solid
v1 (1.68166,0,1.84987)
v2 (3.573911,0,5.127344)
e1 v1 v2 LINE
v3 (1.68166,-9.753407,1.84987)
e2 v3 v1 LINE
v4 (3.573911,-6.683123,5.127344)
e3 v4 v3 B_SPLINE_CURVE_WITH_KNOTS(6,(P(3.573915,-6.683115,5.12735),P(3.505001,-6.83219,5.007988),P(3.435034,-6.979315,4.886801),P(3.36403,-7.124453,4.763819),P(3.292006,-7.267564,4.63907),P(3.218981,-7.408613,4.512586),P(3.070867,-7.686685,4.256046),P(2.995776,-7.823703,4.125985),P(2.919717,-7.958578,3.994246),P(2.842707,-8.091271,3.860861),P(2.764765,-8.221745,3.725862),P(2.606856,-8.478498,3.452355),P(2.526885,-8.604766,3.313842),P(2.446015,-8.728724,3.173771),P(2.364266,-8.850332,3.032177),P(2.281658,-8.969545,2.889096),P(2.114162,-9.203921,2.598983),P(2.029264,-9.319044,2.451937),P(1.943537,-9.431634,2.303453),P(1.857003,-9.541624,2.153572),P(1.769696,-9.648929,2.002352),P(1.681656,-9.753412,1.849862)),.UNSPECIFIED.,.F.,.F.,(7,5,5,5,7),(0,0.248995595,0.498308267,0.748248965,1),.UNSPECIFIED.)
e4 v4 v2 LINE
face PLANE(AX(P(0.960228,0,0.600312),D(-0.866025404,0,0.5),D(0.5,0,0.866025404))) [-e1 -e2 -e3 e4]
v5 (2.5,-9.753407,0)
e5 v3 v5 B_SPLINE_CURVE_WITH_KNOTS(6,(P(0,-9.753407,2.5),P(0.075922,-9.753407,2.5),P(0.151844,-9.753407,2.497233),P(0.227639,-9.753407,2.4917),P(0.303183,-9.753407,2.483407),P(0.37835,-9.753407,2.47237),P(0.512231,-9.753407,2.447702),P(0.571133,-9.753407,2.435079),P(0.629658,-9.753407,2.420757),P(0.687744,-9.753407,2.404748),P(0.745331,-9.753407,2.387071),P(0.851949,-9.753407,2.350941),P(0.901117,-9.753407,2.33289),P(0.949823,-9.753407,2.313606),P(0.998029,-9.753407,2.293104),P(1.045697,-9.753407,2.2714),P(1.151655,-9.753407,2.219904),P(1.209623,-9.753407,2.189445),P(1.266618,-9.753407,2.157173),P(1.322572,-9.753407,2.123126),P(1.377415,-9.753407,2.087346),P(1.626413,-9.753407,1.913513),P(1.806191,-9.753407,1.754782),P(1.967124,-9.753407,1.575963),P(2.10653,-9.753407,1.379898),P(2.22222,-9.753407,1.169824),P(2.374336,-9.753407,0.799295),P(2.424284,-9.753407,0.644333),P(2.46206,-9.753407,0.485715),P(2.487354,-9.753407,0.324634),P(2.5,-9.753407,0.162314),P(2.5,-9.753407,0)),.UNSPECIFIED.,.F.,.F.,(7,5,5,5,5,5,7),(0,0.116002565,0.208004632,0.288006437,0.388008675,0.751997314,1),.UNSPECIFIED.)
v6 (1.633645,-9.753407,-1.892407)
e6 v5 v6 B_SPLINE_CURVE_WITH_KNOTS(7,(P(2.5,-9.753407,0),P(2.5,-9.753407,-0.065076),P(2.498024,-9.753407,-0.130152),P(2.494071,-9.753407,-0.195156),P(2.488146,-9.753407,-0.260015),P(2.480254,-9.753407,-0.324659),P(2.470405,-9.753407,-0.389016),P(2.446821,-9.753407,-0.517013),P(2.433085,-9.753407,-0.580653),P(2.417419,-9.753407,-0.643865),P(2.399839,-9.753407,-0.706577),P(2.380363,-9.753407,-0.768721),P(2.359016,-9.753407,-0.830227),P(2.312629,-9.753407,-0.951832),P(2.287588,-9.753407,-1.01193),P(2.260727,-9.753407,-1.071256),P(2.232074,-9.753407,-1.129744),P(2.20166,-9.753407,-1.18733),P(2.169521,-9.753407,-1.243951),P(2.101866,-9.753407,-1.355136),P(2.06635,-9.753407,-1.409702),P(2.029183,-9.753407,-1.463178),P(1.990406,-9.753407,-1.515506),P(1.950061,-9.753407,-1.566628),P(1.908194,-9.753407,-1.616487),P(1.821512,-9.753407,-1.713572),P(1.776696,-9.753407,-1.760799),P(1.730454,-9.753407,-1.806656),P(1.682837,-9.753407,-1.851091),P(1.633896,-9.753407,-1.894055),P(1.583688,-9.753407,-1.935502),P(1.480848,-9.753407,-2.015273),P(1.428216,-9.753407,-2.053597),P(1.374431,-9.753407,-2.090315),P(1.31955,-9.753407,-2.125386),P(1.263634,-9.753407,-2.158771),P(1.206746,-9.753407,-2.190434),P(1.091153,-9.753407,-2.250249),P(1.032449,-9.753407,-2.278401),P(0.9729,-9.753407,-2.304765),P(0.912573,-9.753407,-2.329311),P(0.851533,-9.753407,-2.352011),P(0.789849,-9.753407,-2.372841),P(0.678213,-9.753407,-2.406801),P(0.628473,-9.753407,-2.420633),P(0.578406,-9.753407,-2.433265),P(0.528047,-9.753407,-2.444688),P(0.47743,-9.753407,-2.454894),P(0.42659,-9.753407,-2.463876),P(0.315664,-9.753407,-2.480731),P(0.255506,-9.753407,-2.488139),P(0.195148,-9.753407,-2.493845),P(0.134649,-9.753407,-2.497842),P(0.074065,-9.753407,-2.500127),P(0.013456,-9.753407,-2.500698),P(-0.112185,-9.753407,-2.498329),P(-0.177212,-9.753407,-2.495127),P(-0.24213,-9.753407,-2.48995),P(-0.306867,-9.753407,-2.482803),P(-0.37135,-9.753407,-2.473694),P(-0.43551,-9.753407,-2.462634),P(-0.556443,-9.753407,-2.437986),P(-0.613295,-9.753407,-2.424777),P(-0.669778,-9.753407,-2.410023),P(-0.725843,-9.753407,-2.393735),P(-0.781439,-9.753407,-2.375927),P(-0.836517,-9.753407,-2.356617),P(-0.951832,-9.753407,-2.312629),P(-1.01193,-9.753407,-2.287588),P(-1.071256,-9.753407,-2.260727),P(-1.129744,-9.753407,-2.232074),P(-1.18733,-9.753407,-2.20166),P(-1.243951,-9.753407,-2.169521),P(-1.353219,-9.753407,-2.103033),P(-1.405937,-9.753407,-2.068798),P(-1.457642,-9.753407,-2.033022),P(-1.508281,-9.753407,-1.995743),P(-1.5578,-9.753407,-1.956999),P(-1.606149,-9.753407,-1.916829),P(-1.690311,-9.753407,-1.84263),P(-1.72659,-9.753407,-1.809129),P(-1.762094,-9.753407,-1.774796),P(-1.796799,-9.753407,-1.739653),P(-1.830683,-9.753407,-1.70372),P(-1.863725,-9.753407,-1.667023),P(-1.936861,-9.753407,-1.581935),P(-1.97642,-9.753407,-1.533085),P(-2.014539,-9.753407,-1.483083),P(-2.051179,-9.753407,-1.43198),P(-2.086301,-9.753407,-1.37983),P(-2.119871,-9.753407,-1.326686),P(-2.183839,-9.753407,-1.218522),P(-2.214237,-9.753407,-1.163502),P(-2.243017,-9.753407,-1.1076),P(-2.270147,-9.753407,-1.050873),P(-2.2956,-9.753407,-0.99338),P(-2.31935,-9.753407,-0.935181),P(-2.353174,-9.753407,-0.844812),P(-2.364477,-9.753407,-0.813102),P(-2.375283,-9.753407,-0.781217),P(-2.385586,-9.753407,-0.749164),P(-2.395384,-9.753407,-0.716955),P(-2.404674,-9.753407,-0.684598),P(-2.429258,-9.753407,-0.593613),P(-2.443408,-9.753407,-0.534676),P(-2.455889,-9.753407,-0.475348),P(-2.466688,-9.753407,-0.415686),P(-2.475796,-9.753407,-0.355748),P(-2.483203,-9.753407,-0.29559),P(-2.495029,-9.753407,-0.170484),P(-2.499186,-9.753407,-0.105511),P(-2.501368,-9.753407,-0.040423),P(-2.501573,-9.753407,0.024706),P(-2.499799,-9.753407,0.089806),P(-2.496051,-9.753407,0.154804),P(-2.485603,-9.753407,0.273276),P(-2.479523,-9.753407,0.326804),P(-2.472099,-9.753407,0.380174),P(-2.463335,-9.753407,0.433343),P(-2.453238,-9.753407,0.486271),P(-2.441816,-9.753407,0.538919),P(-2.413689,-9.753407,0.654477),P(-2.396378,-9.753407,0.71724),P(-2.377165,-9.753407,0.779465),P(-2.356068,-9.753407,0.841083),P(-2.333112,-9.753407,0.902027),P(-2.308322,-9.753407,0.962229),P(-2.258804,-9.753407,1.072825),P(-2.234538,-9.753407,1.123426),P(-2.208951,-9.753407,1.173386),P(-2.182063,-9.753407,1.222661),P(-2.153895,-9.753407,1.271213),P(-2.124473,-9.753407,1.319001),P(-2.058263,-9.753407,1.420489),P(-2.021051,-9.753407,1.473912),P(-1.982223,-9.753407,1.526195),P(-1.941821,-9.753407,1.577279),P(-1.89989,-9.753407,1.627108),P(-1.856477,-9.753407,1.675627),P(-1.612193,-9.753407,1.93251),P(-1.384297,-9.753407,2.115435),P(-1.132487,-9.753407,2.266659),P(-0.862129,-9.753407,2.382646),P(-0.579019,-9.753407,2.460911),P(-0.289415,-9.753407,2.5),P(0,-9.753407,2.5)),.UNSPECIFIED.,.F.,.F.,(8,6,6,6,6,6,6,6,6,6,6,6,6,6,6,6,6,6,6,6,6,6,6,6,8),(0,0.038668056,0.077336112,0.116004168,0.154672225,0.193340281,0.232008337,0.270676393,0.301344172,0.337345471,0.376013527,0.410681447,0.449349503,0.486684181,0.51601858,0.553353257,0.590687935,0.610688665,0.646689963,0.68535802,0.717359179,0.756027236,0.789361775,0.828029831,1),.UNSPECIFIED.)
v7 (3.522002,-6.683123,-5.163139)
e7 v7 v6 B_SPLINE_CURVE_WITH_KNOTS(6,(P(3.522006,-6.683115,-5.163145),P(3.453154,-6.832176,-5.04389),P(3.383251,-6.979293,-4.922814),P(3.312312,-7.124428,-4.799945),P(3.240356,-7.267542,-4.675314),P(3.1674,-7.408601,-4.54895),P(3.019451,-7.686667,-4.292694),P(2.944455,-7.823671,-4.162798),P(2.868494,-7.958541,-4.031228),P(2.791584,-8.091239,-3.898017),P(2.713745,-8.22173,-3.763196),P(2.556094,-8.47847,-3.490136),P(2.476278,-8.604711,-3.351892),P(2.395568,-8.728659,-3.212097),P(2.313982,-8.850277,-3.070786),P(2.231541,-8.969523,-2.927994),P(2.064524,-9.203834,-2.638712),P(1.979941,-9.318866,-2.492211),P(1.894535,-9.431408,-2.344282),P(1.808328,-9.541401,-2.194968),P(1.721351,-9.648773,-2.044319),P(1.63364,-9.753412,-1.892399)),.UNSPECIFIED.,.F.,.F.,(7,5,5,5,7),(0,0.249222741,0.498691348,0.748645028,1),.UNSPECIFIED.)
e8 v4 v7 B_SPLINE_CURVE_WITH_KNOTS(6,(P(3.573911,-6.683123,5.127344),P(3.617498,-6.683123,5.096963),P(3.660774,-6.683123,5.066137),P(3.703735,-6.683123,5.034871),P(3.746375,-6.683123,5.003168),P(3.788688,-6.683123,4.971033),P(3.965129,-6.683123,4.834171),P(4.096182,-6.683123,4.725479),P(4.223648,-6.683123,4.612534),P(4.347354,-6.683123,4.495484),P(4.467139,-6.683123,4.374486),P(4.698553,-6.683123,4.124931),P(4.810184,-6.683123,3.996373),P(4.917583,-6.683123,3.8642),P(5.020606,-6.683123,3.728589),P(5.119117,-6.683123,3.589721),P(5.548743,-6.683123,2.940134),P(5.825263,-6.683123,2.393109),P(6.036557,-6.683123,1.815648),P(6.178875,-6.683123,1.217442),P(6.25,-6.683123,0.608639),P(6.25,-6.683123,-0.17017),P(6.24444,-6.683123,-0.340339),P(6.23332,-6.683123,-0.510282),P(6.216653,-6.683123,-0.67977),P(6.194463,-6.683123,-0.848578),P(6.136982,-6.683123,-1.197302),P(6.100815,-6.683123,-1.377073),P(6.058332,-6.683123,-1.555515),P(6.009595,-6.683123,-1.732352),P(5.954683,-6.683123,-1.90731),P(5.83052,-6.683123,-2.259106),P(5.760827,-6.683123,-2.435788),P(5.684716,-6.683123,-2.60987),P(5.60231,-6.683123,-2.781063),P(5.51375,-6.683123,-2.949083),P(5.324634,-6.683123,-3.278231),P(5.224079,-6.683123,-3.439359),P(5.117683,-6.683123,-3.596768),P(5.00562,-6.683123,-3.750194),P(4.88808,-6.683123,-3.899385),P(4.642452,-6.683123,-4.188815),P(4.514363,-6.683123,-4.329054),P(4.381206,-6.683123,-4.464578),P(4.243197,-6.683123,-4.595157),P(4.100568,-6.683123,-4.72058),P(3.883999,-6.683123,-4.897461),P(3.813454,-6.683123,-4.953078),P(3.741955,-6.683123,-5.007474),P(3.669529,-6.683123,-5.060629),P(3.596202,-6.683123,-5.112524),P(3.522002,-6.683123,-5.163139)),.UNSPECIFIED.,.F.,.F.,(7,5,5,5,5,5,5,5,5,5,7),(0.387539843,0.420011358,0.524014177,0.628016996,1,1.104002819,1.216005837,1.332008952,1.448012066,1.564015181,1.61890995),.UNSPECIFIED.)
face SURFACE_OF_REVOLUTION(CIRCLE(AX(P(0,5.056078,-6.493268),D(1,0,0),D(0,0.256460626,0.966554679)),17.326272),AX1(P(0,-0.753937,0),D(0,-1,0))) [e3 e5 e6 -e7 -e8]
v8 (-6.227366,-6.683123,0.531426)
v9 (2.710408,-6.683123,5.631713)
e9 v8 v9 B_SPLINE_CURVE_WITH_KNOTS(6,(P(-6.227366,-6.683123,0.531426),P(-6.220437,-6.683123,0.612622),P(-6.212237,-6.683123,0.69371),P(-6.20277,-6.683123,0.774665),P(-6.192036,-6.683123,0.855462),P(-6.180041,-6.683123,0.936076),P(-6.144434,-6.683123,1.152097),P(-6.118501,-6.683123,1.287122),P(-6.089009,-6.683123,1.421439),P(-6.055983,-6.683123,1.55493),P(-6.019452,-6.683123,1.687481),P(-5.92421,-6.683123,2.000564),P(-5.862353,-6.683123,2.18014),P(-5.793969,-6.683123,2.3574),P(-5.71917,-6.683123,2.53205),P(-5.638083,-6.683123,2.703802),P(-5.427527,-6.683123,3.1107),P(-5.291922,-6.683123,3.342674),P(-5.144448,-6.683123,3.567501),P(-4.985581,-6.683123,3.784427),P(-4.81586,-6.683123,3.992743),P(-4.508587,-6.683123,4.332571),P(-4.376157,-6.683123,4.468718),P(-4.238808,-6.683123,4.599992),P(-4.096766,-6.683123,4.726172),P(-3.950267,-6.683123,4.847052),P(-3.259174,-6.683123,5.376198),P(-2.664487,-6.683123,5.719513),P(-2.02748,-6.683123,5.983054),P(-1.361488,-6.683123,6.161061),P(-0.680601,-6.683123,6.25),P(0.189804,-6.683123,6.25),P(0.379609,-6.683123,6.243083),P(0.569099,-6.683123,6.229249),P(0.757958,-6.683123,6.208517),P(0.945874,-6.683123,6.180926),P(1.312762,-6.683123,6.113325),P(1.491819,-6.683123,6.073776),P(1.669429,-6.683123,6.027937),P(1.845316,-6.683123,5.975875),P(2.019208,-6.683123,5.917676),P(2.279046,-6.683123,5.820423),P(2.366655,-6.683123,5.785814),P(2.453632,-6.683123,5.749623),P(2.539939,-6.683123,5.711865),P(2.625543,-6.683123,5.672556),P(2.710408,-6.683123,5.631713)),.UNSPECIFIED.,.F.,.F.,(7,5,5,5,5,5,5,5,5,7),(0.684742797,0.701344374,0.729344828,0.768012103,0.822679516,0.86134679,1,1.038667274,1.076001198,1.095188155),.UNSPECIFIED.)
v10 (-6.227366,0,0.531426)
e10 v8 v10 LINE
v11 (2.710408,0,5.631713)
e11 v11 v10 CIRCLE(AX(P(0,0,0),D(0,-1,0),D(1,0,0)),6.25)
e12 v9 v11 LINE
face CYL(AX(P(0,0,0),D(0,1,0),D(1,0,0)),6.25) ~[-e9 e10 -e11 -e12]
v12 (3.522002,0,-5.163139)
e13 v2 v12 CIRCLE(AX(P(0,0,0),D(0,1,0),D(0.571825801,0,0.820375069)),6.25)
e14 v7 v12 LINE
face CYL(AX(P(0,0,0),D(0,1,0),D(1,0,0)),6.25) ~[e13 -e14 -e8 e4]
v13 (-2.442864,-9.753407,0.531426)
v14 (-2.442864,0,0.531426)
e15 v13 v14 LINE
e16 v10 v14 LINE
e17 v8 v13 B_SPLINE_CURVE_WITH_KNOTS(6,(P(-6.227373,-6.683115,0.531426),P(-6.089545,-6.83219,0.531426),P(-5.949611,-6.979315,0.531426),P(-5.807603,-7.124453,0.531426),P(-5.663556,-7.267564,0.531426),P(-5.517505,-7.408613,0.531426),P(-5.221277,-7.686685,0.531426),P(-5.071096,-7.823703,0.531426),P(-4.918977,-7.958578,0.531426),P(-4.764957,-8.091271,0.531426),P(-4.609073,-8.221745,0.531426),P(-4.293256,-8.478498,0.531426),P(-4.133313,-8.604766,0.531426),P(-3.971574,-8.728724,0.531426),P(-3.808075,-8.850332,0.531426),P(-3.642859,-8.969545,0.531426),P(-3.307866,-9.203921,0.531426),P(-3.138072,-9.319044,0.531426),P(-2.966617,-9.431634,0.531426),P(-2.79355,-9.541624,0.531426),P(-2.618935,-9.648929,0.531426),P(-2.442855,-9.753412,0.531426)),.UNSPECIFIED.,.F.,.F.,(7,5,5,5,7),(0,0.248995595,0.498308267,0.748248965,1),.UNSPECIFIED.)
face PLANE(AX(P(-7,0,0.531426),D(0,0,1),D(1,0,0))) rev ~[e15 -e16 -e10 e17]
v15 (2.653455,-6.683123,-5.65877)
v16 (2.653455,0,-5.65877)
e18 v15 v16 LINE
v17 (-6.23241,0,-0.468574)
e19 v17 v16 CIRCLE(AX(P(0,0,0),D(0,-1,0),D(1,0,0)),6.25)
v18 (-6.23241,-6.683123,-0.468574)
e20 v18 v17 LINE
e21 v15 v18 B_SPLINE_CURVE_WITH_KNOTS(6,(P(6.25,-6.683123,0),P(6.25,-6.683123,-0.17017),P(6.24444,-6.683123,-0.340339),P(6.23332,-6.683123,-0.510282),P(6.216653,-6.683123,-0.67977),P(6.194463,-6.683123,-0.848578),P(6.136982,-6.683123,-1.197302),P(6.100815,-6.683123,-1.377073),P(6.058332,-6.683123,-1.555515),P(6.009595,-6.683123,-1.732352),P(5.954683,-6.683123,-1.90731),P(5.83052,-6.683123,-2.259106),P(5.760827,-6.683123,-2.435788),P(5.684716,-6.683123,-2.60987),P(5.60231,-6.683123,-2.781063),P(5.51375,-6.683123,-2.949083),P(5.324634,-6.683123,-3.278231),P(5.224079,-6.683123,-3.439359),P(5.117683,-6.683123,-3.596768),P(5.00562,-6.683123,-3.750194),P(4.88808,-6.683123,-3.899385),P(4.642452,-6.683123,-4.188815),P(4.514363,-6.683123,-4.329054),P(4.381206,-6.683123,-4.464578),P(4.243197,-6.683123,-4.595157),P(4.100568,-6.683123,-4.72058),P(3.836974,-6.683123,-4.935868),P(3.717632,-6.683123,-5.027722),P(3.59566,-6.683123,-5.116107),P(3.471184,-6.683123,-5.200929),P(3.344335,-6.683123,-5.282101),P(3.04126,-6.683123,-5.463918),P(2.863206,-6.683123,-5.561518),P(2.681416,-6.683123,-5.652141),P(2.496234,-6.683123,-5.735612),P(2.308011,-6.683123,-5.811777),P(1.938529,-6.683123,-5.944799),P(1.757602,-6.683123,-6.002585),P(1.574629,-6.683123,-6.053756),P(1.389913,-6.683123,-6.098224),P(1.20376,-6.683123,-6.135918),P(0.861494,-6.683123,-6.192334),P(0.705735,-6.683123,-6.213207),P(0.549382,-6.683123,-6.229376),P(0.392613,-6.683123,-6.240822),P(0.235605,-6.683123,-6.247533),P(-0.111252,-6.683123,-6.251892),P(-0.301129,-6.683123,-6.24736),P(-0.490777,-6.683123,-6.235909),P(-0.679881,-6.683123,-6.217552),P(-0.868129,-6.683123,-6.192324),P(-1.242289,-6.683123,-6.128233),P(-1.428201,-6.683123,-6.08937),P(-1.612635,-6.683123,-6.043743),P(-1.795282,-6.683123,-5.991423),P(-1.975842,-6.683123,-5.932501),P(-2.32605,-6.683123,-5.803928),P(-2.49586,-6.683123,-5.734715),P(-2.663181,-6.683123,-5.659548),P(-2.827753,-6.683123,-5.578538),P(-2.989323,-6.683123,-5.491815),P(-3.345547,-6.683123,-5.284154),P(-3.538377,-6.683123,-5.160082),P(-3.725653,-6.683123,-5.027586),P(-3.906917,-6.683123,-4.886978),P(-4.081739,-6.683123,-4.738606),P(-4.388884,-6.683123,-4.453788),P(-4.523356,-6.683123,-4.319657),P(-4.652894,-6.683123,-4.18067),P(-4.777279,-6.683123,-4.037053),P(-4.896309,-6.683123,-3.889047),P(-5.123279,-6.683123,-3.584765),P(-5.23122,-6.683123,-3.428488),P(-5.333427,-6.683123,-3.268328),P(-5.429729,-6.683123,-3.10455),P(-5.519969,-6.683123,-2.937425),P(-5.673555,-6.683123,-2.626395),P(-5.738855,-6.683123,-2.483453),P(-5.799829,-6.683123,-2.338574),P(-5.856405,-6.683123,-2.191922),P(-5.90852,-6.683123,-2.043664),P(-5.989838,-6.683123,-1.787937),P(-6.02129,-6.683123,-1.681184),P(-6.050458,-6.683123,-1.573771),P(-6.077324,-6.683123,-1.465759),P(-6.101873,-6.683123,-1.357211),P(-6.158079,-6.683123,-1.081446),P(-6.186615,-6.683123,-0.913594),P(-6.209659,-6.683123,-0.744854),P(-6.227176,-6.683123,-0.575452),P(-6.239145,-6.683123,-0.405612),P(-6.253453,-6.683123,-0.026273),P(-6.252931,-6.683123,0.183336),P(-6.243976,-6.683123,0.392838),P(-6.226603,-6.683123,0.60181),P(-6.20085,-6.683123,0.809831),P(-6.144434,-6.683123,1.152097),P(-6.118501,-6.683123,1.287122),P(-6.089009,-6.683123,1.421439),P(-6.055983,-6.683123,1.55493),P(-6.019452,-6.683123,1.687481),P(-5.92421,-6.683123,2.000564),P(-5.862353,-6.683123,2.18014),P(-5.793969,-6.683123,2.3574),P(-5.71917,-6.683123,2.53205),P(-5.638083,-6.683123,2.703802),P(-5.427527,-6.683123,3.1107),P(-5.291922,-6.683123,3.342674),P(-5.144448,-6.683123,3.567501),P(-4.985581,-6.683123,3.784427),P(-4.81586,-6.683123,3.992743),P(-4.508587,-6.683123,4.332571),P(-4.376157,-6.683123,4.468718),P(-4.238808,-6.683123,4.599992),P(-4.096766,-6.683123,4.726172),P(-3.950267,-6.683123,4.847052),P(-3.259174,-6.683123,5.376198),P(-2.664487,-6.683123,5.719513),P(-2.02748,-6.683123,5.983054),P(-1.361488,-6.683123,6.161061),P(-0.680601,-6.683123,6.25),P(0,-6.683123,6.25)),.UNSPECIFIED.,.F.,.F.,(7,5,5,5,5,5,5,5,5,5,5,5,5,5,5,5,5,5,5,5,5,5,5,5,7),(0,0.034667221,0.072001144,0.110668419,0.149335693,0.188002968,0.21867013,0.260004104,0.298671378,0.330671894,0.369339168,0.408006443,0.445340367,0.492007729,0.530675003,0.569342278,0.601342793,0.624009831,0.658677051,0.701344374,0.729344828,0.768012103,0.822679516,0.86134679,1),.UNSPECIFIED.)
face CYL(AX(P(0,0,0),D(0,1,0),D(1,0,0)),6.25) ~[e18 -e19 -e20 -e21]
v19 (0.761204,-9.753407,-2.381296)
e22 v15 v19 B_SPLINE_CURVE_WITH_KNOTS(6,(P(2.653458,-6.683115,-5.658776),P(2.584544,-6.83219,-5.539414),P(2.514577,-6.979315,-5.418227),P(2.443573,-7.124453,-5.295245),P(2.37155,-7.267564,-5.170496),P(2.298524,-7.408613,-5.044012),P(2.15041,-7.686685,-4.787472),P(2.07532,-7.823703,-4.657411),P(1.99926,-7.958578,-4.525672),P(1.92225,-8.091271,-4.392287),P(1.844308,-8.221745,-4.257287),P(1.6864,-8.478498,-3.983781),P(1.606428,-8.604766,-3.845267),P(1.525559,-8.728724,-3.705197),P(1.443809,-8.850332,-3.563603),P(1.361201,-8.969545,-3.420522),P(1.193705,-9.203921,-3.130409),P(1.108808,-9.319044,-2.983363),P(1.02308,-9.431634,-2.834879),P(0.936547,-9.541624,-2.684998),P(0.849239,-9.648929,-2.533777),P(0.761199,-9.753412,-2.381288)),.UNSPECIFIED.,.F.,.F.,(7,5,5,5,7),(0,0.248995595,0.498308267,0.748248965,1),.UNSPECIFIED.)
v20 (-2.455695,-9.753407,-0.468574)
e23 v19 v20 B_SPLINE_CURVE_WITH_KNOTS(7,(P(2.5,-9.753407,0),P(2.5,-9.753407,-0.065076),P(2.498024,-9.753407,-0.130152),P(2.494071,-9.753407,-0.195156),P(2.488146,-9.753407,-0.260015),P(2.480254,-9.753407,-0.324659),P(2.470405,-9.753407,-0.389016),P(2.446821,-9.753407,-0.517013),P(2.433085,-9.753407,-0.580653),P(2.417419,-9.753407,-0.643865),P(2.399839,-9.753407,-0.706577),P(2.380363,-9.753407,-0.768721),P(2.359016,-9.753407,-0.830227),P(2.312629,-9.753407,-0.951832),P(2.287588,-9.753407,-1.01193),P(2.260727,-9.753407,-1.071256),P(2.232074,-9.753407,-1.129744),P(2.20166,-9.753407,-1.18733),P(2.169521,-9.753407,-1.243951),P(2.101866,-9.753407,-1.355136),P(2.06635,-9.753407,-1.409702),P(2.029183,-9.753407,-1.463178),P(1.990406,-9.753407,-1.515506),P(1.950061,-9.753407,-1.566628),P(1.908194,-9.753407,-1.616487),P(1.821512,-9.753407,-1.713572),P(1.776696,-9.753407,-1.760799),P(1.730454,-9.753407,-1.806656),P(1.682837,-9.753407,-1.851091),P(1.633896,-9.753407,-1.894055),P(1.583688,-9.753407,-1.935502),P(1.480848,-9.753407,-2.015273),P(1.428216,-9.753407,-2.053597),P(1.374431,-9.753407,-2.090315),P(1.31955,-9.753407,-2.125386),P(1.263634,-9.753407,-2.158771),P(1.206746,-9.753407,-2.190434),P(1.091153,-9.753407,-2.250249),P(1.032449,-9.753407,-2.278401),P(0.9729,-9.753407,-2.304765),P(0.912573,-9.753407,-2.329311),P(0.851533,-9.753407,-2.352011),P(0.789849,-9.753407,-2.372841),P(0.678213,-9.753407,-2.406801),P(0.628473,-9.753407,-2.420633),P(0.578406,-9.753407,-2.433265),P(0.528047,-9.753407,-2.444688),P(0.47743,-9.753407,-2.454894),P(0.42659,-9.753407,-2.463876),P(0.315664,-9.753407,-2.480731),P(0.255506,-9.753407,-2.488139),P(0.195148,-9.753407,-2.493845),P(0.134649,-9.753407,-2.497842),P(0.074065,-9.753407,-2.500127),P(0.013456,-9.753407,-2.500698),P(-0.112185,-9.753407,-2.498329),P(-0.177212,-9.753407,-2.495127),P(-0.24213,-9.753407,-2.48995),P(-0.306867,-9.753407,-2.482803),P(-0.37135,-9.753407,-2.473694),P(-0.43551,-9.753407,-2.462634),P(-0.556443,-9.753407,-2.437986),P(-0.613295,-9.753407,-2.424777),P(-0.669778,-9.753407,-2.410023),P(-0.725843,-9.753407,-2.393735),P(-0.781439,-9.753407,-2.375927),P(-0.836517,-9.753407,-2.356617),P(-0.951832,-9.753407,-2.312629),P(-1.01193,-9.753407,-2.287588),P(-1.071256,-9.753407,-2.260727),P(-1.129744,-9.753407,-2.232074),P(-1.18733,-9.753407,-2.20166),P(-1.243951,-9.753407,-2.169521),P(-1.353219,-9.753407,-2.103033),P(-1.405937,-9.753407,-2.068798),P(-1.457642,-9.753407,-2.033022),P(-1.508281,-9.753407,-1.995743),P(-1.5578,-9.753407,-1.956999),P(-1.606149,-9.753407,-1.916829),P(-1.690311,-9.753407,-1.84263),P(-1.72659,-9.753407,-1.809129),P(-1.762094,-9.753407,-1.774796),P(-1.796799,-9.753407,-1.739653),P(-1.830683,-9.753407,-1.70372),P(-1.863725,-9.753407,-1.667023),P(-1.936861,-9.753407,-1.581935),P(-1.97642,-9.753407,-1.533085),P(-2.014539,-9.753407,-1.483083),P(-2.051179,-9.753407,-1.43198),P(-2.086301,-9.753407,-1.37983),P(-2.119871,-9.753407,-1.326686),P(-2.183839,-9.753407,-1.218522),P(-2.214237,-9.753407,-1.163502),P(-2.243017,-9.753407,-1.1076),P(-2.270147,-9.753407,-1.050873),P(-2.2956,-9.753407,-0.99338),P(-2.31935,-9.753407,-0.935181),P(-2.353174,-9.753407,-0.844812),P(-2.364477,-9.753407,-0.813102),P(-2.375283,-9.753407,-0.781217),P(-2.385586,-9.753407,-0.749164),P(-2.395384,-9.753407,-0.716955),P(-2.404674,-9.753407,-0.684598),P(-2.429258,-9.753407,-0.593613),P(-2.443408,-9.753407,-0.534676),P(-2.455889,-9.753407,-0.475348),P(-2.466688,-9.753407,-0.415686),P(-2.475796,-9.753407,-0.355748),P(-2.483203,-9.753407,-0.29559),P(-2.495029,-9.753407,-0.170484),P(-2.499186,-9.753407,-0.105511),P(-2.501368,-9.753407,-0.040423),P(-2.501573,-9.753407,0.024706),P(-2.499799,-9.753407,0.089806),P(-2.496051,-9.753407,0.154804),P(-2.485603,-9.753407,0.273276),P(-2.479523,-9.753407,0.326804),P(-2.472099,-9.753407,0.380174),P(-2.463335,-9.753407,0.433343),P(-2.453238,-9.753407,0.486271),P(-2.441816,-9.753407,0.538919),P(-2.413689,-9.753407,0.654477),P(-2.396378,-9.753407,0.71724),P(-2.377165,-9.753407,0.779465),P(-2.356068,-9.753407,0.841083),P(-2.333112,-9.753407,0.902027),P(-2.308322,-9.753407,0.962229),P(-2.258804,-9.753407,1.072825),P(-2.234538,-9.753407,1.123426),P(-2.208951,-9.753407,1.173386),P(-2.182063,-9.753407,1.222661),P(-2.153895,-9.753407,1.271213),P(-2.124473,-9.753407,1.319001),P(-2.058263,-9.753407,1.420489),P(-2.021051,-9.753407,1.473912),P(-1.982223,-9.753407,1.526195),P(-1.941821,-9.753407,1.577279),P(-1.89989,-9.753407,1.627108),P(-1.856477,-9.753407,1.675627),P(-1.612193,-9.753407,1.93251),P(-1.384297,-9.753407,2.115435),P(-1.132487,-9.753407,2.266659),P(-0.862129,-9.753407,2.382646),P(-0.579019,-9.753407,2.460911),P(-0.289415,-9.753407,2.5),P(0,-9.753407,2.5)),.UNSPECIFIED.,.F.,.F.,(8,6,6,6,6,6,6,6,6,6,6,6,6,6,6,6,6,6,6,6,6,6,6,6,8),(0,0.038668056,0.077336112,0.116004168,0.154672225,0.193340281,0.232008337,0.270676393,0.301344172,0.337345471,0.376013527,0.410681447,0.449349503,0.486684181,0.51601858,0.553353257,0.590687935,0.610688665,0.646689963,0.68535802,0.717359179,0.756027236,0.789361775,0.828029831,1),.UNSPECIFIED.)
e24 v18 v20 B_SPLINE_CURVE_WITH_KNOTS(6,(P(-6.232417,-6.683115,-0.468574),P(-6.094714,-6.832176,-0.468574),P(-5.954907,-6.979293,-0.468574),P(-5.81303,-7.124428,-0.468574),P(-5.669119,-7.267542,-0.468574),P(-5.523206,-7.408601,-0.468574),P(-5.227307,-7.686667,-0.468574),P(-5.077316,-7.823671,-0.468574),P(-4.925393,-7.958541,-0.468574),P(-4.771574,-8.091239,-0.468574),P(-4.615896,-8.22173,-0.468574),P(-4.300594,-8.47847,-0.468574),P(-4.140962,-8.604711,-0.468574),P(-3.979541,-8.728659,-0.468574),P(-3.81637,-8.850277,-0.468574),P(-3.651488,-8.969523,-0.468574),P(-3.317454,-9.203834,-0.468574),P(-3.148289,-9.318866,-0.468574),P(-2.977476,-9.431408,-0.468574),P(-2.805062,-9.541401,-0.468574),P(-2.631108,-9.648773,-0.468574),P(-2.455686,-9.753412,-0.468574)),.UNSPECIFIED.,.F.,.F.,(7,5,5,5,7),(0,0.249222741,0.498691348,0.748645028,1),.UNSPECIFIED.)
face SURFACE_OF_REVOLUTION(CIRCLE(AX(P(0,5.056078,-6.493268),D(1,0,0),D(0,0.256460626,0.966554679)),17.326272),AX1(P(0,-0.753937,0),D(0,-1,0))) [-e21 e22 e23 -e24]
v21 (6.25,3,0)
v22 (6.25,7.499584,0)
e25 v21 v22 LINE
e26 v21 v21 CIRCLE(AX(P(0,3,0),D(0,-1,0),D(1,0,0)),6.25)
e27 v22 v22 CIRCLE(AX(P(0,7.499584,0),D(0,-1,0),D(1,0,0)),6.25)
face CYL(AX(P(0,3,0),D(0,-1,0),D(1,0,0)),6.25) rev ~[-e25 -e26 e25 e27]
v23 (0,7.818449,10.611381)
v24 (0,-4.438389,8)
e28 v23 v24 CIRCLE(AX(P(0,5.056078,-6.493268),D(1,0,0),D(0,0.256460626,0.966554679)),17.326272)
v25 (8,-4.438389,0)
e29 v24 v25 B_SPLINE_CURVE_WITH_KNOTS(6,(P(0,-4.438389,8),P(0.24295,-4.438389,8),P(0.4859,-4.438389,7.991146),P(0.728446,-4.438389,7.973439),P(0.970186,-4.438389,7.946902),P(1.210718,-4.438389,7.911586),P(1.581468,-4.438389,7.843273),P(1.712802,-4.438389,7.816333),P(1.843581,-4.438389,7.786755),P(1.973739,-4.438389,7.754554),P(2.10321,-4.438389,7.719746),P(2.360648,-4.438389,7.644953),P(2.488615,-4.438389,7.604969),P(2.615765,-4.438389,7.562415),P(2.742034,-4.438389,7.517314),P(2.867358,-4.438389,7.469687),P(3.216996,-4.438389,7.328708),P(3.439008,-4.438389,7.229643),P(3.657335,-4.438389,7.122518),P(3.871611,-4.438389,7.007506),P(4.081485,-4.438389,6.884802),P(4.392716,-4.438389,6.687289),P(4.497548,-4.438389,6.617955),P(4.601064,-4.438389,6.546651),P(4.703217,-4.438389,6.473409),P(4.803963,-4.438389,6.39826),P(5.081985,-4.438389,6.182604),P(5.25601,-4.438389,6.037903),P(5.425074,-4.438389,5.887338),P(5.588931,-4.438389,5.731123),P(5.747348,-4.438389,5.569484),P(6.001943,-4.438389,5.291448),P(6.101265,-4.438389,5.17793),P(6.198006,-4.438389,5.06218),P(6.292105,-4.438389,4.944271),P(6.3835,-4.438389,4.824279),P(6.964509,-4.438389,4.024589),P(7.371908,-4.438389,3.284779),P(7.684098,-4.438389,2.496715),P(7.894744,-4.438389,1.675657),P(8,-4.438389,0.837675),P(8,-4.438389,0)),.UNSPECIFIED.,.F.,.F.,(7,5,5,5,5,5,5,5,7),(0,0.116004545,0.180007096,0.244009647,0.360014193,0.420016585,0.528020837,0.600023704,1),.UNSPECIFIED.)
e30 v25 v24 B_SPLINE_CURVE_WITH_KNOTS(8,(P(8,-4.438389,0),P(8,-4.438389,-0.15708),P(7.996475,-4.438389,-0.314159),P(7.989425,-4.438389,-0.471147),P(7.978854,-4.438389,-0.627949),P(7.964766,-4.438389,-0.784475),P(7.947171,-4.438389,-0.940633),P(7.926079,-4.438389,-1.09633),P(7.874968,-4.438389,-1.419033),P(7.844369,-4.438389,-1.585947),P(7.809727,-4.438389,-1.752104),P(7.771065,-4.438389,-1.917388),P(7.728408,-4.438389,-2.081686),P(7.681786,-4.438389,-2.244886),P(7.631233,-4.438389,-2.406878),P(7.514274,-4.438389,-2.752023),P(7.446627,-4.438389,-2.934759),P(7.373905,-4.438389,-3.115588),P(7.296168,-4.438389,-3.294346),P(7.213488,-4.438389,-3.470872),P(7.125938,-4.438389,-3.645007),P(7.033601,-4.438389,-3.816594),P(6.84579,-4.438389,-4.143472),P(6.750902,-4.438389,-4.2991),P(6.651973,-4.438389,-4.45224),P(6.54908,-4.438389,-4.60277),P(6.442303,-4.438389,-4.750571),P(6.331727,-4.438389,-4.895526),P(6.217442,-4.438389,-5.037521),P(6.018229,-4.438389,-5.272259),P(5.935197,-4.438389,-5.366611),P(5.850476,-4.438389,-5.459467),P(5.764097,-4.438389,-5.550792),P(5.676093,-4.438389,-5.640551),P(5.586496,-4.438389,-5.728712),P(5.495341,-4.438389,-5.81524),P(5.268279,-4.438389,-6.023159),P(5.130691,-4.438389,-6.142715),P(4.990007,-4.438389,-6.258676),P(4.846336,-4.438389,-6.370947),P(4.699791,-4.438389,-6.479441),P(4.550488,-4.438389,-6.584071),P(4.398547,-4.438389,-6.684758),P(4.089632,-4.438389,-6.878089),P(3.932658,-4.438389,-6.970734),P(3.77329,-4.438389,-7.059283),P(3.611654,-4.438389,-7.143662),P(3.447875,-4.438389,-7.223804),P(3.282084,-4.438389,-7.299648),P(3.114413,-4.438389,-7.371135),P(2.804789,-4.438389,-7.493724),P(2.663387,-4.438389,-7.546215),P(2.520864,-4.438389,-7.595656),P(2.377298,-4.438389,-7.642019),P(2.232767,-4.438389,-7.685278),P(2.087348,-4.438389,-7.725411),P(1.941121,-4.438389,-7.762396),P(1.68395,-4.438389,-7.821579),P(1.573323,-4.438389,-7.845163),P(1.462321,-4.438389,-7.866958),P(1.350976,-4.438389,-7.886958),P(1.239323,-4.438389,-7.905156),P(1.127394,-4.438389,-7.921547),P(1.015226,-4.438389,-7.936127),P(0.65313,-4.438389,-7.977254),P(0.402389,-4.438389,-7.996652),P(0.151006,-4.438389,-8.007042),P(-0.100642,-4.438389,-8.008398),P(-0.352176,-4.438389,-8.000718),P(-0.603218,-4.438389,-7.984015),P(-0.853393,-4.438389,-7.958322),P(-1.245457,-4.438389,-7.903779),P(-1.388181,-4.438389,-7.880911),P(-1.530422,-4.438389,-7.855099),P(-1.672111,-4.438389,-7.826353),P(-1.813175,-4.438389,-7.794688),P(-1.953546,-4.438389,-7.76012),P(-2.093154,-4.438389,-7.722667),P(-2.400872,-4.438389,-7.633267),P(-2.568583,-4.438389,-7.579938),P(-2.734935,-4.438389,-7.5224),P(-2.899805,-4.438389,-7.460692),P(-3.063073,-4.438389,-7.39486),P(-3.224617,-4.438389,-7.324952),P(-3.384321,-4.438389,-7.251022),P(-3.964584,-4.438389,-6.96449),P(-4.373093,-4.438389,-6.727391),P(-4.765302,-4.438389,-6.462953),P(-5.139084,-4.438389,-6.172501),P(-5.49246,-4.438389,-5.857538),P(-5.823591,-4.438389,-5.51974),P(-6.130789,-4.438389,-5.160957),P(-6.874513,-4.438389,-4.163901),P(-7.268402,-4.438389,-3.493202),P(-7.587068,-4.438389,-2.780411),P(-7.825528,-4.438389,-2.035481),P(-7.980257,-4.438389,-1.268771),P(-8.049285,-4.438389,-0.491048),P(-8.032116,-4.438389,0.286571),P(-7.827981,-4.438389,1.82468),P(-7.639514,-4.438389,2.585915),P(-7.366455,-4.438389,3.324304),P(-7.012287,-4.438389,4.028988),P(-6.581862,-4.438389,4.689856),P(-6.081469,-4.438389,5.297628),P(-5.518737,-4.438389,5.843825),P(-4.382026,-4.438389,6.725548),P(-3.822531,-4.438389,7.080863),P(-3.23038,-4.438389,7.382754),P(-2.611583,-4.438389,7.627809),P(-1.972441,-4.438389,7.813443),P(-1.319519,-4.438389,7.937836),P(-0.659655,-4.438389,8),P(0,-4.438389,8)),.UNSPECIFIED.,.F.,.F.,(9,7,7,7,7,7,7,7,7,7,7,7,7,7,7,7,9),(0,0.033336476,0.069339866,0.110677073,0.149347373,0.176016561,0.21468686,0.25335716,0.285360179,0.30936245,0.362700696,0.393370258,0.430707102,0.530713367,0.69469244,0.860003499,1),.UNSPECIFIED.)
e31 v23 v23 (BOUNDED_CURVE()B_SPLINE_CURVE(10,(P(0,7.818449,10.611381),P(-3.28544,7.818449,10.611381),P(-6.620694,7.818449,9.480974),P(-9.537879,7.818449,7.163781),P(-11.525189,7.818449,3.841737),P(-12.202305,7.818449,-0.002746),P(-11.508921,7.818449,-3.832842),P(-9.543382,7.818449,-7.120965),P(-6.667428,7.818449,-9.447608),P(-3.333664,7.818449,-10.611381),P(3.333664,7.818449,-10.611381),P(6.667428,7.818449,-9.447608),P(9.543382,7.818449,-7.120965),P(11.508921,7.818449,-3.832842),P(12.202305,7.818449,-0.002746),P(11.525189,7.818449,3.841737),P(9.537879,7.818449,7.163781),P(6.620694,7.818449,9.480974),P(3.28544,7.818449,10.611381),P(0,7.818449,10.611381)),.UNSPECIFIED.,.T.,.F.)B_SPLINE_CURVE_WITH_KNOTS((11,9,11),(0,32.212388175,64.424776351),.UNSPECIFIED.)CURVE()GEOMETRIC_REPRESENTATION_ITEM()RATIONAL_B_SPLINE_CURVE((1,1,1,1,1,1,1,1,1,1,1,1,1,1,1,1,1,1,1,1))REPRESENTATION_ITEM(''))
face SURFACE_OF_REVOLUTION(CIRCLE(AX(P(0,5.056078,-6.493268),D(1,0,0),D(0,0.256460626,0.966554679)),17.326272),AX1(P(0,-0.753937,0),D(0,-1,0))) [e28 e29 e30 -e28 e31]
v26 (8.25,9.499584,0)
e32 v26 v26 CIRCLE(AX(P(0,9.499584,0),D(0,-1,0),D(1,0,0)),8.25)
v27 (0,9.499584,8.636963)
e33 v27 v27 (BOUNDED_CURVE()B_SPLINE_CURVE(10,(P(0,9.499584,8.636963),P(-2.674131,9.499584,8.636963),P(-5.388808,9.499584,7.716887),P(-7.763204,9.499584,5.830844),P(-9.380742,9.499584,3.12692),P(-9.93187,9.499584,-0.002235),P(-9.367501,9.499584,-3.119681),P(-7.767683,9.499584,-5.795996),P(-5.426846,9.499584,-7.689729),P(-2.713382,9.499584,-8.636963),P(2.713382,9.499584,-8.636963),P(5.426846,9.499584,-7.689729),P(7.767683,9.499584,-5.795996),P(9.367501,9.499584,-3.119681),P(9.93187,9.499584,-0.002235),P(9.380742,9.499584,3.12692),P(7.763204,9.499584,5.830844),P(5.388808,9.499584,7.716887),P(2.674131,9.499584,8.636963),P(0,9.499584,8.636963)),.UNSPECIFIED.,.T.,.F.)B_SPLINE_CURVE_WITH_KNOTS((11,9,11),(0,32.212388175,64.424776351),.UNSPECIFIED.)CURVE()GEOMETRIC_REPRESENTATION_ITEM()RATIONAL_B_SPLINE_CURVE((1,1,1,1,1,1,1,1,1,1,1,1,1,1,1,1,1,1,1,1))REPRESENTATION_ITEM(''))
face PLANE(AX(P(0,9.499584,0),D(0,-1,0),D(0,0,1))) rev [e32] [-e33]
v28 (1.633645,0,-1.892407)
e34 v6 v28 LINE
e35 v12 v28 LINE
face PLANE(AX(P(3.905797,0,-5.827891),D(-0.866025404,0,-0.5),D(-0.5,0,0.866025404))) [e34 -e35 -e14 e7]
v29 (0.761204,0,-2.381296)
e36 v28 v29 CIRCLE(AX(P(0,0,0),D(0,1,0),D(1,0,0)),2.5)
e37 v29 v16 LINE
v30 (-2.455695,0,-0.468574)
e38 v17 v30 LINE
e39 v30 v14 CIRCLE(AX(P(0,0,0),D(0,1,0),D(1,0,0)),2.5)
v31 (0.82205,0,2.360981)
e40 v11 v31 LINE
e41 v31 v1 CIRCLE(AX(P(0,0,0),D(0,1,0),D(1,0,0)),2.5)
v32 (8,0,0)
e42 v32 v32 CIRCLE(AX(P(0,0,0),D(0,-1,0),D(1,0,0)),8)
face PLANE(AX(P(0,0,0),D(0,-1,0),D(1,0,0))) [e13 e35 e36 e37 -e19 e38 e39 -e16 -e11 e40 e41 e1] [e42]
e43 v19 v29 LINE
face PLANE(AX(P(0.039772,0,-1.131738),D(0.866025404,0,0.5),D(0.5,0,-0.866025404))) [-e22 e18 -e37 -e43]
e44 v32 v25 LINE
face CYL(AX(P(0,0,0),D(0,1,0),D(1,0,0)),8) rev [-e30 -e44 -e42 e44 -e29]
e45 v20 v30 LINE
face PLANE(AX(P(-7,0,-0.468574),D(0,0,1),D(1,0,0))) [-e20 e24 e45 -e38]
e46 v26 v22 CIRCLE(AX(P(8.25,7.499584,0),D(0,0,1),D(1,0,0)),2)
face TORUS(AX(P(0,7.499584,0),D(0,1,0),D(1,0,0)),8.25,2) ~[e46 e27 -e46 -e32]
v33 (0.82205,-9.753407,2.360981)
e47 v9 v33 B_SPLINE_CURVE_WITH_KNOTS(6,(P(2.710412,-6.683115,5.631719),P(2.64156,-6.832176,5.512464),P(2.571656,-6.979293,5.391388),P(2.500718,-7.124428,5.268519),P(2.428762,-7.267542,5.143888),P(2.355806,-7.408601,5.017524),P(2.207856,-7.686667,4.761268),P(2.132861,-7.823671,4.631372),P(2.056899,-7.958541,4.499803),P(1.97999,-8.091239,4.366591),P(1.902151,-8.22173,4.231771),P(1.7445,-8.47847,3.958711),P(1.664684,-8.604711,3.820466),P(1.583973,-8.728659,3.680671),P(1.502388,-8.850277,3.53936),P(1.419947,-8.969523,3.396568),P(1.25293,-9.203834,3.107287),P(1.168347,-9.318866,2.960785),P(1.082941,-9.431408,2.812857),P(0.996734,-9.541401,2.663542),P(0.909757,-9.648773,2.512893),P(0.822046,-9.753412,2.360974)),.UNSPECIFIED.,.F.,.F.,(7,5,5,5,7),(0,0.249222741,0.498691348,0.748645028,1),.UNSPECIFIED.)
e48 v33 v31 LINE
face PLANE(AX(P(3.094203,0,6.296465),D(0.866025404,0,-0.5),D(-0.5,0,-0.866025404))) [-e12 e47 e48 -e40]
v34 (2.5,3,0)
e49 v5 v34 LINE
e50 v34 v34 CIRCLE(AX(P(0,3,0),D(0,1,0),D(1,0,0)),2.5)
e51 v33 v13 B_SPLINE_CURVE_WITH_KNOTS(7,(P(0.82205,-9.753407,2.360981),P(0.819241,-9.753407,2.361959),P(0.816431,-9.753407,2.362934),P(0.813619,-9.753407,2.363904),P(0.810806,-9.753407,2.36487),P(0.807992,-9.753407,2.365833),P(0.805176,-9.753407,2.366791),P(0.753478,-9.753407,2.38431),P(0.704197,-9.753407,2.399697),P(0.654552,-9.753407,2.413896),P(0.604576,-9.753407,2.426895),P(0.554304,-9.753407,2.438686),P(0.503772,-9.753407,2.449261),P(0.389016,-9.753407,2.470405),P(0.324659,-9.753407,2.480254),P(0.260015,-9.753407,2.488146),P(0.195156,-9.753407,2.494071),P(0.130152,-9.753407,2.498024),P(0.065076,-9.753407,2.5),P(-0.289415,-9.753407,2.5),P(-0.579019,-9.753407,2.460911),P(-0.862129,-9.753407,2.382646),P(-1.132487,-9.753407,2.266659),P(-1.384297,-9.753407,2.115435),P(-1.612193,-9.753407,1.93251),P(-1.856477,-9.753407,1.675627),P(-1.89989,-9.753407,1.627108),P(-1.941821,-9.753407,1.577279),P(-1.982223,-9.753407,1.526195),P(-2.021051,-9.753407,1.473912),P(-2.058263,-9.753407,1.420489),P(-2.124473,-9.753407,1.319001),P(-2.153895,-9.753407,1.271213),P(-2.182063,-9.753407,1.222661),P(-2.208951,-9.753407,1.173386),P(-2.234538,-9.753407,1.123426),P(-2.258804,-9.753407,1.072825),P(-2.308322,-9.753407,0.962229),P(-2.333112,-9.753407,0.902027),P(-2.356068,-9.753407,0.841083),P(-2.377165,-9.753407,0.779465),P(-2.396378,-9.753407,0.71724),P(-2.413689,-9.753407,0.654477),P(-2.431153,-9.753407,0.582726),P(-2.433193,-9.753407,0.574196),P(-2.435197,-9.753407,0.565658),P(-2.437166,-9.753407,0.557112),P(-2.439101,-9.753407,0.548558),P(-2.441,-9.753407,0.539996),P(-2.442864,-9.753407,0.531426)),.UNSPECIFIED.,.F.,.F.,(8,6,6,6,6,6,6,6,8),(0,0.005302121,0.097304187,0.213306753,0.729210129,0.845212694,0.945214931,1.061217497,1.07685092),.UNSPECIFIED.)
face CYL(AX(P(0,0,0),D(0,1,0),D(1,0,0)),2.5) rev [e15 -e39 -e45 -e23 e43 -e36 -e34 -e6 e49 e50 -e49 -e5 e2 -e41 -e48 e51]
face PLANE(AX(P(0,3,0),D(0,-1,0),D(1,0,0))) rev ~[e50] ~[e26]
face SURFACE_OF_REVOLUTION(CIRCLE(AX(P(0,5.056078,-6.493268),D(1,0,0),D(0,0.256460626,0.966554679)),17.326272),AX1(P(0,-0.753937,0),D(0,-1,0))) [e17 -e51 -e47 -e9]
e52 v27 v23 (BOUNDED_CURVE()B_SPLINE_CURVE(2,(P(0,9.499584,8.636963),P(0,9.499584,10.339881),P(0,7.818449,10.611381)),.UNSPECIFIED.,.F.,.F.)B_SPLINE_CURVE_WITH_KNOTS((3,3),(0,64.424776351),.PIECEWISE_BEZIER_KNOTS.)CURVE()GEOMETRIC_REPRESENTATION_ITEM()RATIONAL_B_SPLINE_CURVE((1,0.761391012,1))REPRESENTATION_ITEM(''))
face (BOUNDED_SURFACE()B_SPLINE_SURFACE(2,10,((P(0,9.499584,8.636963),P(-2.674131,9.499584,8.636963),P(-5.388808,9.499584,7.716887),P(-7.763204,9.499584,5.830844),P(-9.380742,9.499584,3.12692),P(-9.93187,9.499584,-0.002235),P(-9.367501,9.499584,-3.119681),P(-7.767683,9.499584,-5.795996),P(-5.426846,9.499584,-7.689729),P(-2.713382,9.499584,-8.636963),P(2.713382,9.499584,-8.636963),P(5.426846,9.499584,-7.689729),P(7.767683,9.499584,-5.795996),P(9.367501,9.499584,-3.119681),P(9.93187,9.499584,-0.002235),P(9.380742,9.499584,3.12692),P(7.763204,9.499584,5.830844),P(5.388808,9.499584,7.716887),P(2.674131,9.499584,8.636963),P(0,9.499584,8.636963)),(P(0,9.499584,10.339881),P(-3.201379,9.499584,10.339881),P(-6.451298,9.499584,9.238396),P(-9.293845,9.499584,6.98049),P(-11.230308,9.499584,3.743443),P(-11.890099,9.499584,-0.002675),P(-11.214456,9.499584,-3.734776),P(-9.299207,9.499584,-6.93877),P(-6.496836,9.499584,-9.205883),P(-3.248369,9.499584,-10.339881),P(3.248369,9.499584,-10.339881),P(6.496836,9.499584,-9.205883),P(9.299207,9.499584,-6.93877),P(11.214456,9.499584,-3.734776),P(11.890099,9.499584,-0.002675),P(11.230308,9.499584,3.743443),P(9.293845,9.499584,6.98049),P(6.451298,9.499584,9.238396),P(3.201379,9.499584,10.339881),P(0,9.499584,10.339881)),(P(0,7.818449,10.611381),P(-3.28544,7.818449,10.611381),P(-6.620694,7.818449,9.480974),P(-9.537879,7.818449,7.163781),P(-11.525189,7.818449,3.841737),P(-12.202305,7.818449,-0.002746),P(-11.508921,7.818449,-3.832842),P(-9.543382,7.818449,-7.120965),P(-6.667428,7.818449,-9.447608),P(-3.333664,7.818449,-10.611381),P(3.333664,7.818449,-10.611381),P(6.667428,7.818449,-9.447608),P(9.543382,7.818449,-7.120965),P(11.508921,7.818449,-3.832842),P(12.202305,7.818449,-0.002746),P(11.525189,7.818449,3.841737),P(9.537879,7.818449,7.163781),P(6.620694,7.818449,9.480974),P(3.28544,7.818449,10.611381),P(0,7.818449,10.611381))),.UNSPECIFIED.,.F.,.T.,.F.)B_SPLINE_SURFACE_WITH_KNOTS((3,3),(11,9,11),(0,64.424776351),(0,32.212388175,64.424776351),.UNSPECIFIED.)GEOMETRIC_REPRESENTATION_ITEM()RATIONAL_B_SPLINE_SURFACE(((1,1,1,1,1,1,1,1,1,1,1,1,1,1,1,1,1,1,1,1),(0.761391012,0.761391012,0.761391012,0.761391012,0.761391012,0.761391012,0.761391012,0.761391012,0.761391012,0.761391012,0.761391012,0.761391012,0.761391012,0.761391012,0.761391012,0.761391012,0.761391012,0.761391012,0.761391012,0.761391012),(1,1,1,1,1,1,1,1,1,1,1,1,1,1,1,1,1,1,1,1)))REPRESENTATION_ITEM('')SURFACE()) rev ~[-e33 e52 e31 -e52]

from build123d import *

# Parameters (mm, degrees)
F0_R          = 8
F0_R_2        = 6.25
F4_DEPTH      = 25
F0_R_3        = 2.5
F5_DEPTH      = 20
F5_DEPTH_BACK = 4
F6_START      = -3
F6_DEPTH      = 6.5005844247
F1_W          = 6
F1_H          = 1
F7_DEPTH      = 25
F8_R          = 2


with BuildPart() as f3:
    # F2 (on Right) → F3 (revolve)
    with BuildSketch(Plane.YZ):
        with BuildLine():
            Line((9.4995843247, 0), (9.4995843247, 10.2535216138))
            ThreePointArc((9.4995843247, 10.2535216138), (-2.6924670032, 9.0038209902), (-11.0074579716, 0))
            Line((-11.0074579716, 0), (9.4995843247, 0))
        make_face()
    revolve(axis=Axis((0, -0.7539368235, 0), (0, -1, 0)))

    # F0 (on Front) → F4 (cut)
    with BuildSketch(Plane.XZ):
        Circle(F0_R)
        Circle(F0_R_2, mode=Mode.SUBTRACT)
    extrude(amount=F4_DEPTH, mode=Mode.SUBTRACT)

    # F0 (on Front) → F5 (cut, two sides)
    with BuildSketch(Plane.XZ) as f5_sk:
        Circle(F0_R_3)
    extrude(amount=F5_DEPTH, mode=Mode.SUBTRACT)
    extrude(f5_sk.sketch, amount=-F5_DEPTH_BACK, mode=Mode.SUBTRACT)

    # F0 (on Front) → F6 (cut)
    with BuildSketch(Plane.XZ.offset(F6_START)):
        Circle(F0_R_2)
        Circle(F0_R_3, mode=Mode.SUBTRACT)
        Circle(F0_R_3)
    extrude(amount=-F6_DEPTH, mode=Mode.SUBTRACT)

    # F1 (on Front) → F7 (cut)
    with BuildSketch(Plane.XZ):
        with Locations((-4, 0.0314258505)):
            Rectangle(F1_W, F1_H)
        Polygon((0.0397717133, -1.131738329), (3.0397717133, -6.3278907517), (3.9057971171, -5.8278907517), (0.9057971171, -0.631738329), align=None)
        Polygon((0.9602282867, 0.6003124786), (3.9602282867, 5.7964649013), (3.0942028829, 6.2964649013), (0.0942028829, 1.1003124786), align=None)
    extrude(amount=F7_DEPTH, mode=Mode.SUBTRACT)

    # F8
    f8_edges = [f3.edges().sort_by_distance(p)[0] for p in [
        (0, 9.499584, -10.253522),
        (-6.25, 9.499584, 0),
    ]]
    fillet(f8_edges, radius=F8_R)


solid = f3.part
